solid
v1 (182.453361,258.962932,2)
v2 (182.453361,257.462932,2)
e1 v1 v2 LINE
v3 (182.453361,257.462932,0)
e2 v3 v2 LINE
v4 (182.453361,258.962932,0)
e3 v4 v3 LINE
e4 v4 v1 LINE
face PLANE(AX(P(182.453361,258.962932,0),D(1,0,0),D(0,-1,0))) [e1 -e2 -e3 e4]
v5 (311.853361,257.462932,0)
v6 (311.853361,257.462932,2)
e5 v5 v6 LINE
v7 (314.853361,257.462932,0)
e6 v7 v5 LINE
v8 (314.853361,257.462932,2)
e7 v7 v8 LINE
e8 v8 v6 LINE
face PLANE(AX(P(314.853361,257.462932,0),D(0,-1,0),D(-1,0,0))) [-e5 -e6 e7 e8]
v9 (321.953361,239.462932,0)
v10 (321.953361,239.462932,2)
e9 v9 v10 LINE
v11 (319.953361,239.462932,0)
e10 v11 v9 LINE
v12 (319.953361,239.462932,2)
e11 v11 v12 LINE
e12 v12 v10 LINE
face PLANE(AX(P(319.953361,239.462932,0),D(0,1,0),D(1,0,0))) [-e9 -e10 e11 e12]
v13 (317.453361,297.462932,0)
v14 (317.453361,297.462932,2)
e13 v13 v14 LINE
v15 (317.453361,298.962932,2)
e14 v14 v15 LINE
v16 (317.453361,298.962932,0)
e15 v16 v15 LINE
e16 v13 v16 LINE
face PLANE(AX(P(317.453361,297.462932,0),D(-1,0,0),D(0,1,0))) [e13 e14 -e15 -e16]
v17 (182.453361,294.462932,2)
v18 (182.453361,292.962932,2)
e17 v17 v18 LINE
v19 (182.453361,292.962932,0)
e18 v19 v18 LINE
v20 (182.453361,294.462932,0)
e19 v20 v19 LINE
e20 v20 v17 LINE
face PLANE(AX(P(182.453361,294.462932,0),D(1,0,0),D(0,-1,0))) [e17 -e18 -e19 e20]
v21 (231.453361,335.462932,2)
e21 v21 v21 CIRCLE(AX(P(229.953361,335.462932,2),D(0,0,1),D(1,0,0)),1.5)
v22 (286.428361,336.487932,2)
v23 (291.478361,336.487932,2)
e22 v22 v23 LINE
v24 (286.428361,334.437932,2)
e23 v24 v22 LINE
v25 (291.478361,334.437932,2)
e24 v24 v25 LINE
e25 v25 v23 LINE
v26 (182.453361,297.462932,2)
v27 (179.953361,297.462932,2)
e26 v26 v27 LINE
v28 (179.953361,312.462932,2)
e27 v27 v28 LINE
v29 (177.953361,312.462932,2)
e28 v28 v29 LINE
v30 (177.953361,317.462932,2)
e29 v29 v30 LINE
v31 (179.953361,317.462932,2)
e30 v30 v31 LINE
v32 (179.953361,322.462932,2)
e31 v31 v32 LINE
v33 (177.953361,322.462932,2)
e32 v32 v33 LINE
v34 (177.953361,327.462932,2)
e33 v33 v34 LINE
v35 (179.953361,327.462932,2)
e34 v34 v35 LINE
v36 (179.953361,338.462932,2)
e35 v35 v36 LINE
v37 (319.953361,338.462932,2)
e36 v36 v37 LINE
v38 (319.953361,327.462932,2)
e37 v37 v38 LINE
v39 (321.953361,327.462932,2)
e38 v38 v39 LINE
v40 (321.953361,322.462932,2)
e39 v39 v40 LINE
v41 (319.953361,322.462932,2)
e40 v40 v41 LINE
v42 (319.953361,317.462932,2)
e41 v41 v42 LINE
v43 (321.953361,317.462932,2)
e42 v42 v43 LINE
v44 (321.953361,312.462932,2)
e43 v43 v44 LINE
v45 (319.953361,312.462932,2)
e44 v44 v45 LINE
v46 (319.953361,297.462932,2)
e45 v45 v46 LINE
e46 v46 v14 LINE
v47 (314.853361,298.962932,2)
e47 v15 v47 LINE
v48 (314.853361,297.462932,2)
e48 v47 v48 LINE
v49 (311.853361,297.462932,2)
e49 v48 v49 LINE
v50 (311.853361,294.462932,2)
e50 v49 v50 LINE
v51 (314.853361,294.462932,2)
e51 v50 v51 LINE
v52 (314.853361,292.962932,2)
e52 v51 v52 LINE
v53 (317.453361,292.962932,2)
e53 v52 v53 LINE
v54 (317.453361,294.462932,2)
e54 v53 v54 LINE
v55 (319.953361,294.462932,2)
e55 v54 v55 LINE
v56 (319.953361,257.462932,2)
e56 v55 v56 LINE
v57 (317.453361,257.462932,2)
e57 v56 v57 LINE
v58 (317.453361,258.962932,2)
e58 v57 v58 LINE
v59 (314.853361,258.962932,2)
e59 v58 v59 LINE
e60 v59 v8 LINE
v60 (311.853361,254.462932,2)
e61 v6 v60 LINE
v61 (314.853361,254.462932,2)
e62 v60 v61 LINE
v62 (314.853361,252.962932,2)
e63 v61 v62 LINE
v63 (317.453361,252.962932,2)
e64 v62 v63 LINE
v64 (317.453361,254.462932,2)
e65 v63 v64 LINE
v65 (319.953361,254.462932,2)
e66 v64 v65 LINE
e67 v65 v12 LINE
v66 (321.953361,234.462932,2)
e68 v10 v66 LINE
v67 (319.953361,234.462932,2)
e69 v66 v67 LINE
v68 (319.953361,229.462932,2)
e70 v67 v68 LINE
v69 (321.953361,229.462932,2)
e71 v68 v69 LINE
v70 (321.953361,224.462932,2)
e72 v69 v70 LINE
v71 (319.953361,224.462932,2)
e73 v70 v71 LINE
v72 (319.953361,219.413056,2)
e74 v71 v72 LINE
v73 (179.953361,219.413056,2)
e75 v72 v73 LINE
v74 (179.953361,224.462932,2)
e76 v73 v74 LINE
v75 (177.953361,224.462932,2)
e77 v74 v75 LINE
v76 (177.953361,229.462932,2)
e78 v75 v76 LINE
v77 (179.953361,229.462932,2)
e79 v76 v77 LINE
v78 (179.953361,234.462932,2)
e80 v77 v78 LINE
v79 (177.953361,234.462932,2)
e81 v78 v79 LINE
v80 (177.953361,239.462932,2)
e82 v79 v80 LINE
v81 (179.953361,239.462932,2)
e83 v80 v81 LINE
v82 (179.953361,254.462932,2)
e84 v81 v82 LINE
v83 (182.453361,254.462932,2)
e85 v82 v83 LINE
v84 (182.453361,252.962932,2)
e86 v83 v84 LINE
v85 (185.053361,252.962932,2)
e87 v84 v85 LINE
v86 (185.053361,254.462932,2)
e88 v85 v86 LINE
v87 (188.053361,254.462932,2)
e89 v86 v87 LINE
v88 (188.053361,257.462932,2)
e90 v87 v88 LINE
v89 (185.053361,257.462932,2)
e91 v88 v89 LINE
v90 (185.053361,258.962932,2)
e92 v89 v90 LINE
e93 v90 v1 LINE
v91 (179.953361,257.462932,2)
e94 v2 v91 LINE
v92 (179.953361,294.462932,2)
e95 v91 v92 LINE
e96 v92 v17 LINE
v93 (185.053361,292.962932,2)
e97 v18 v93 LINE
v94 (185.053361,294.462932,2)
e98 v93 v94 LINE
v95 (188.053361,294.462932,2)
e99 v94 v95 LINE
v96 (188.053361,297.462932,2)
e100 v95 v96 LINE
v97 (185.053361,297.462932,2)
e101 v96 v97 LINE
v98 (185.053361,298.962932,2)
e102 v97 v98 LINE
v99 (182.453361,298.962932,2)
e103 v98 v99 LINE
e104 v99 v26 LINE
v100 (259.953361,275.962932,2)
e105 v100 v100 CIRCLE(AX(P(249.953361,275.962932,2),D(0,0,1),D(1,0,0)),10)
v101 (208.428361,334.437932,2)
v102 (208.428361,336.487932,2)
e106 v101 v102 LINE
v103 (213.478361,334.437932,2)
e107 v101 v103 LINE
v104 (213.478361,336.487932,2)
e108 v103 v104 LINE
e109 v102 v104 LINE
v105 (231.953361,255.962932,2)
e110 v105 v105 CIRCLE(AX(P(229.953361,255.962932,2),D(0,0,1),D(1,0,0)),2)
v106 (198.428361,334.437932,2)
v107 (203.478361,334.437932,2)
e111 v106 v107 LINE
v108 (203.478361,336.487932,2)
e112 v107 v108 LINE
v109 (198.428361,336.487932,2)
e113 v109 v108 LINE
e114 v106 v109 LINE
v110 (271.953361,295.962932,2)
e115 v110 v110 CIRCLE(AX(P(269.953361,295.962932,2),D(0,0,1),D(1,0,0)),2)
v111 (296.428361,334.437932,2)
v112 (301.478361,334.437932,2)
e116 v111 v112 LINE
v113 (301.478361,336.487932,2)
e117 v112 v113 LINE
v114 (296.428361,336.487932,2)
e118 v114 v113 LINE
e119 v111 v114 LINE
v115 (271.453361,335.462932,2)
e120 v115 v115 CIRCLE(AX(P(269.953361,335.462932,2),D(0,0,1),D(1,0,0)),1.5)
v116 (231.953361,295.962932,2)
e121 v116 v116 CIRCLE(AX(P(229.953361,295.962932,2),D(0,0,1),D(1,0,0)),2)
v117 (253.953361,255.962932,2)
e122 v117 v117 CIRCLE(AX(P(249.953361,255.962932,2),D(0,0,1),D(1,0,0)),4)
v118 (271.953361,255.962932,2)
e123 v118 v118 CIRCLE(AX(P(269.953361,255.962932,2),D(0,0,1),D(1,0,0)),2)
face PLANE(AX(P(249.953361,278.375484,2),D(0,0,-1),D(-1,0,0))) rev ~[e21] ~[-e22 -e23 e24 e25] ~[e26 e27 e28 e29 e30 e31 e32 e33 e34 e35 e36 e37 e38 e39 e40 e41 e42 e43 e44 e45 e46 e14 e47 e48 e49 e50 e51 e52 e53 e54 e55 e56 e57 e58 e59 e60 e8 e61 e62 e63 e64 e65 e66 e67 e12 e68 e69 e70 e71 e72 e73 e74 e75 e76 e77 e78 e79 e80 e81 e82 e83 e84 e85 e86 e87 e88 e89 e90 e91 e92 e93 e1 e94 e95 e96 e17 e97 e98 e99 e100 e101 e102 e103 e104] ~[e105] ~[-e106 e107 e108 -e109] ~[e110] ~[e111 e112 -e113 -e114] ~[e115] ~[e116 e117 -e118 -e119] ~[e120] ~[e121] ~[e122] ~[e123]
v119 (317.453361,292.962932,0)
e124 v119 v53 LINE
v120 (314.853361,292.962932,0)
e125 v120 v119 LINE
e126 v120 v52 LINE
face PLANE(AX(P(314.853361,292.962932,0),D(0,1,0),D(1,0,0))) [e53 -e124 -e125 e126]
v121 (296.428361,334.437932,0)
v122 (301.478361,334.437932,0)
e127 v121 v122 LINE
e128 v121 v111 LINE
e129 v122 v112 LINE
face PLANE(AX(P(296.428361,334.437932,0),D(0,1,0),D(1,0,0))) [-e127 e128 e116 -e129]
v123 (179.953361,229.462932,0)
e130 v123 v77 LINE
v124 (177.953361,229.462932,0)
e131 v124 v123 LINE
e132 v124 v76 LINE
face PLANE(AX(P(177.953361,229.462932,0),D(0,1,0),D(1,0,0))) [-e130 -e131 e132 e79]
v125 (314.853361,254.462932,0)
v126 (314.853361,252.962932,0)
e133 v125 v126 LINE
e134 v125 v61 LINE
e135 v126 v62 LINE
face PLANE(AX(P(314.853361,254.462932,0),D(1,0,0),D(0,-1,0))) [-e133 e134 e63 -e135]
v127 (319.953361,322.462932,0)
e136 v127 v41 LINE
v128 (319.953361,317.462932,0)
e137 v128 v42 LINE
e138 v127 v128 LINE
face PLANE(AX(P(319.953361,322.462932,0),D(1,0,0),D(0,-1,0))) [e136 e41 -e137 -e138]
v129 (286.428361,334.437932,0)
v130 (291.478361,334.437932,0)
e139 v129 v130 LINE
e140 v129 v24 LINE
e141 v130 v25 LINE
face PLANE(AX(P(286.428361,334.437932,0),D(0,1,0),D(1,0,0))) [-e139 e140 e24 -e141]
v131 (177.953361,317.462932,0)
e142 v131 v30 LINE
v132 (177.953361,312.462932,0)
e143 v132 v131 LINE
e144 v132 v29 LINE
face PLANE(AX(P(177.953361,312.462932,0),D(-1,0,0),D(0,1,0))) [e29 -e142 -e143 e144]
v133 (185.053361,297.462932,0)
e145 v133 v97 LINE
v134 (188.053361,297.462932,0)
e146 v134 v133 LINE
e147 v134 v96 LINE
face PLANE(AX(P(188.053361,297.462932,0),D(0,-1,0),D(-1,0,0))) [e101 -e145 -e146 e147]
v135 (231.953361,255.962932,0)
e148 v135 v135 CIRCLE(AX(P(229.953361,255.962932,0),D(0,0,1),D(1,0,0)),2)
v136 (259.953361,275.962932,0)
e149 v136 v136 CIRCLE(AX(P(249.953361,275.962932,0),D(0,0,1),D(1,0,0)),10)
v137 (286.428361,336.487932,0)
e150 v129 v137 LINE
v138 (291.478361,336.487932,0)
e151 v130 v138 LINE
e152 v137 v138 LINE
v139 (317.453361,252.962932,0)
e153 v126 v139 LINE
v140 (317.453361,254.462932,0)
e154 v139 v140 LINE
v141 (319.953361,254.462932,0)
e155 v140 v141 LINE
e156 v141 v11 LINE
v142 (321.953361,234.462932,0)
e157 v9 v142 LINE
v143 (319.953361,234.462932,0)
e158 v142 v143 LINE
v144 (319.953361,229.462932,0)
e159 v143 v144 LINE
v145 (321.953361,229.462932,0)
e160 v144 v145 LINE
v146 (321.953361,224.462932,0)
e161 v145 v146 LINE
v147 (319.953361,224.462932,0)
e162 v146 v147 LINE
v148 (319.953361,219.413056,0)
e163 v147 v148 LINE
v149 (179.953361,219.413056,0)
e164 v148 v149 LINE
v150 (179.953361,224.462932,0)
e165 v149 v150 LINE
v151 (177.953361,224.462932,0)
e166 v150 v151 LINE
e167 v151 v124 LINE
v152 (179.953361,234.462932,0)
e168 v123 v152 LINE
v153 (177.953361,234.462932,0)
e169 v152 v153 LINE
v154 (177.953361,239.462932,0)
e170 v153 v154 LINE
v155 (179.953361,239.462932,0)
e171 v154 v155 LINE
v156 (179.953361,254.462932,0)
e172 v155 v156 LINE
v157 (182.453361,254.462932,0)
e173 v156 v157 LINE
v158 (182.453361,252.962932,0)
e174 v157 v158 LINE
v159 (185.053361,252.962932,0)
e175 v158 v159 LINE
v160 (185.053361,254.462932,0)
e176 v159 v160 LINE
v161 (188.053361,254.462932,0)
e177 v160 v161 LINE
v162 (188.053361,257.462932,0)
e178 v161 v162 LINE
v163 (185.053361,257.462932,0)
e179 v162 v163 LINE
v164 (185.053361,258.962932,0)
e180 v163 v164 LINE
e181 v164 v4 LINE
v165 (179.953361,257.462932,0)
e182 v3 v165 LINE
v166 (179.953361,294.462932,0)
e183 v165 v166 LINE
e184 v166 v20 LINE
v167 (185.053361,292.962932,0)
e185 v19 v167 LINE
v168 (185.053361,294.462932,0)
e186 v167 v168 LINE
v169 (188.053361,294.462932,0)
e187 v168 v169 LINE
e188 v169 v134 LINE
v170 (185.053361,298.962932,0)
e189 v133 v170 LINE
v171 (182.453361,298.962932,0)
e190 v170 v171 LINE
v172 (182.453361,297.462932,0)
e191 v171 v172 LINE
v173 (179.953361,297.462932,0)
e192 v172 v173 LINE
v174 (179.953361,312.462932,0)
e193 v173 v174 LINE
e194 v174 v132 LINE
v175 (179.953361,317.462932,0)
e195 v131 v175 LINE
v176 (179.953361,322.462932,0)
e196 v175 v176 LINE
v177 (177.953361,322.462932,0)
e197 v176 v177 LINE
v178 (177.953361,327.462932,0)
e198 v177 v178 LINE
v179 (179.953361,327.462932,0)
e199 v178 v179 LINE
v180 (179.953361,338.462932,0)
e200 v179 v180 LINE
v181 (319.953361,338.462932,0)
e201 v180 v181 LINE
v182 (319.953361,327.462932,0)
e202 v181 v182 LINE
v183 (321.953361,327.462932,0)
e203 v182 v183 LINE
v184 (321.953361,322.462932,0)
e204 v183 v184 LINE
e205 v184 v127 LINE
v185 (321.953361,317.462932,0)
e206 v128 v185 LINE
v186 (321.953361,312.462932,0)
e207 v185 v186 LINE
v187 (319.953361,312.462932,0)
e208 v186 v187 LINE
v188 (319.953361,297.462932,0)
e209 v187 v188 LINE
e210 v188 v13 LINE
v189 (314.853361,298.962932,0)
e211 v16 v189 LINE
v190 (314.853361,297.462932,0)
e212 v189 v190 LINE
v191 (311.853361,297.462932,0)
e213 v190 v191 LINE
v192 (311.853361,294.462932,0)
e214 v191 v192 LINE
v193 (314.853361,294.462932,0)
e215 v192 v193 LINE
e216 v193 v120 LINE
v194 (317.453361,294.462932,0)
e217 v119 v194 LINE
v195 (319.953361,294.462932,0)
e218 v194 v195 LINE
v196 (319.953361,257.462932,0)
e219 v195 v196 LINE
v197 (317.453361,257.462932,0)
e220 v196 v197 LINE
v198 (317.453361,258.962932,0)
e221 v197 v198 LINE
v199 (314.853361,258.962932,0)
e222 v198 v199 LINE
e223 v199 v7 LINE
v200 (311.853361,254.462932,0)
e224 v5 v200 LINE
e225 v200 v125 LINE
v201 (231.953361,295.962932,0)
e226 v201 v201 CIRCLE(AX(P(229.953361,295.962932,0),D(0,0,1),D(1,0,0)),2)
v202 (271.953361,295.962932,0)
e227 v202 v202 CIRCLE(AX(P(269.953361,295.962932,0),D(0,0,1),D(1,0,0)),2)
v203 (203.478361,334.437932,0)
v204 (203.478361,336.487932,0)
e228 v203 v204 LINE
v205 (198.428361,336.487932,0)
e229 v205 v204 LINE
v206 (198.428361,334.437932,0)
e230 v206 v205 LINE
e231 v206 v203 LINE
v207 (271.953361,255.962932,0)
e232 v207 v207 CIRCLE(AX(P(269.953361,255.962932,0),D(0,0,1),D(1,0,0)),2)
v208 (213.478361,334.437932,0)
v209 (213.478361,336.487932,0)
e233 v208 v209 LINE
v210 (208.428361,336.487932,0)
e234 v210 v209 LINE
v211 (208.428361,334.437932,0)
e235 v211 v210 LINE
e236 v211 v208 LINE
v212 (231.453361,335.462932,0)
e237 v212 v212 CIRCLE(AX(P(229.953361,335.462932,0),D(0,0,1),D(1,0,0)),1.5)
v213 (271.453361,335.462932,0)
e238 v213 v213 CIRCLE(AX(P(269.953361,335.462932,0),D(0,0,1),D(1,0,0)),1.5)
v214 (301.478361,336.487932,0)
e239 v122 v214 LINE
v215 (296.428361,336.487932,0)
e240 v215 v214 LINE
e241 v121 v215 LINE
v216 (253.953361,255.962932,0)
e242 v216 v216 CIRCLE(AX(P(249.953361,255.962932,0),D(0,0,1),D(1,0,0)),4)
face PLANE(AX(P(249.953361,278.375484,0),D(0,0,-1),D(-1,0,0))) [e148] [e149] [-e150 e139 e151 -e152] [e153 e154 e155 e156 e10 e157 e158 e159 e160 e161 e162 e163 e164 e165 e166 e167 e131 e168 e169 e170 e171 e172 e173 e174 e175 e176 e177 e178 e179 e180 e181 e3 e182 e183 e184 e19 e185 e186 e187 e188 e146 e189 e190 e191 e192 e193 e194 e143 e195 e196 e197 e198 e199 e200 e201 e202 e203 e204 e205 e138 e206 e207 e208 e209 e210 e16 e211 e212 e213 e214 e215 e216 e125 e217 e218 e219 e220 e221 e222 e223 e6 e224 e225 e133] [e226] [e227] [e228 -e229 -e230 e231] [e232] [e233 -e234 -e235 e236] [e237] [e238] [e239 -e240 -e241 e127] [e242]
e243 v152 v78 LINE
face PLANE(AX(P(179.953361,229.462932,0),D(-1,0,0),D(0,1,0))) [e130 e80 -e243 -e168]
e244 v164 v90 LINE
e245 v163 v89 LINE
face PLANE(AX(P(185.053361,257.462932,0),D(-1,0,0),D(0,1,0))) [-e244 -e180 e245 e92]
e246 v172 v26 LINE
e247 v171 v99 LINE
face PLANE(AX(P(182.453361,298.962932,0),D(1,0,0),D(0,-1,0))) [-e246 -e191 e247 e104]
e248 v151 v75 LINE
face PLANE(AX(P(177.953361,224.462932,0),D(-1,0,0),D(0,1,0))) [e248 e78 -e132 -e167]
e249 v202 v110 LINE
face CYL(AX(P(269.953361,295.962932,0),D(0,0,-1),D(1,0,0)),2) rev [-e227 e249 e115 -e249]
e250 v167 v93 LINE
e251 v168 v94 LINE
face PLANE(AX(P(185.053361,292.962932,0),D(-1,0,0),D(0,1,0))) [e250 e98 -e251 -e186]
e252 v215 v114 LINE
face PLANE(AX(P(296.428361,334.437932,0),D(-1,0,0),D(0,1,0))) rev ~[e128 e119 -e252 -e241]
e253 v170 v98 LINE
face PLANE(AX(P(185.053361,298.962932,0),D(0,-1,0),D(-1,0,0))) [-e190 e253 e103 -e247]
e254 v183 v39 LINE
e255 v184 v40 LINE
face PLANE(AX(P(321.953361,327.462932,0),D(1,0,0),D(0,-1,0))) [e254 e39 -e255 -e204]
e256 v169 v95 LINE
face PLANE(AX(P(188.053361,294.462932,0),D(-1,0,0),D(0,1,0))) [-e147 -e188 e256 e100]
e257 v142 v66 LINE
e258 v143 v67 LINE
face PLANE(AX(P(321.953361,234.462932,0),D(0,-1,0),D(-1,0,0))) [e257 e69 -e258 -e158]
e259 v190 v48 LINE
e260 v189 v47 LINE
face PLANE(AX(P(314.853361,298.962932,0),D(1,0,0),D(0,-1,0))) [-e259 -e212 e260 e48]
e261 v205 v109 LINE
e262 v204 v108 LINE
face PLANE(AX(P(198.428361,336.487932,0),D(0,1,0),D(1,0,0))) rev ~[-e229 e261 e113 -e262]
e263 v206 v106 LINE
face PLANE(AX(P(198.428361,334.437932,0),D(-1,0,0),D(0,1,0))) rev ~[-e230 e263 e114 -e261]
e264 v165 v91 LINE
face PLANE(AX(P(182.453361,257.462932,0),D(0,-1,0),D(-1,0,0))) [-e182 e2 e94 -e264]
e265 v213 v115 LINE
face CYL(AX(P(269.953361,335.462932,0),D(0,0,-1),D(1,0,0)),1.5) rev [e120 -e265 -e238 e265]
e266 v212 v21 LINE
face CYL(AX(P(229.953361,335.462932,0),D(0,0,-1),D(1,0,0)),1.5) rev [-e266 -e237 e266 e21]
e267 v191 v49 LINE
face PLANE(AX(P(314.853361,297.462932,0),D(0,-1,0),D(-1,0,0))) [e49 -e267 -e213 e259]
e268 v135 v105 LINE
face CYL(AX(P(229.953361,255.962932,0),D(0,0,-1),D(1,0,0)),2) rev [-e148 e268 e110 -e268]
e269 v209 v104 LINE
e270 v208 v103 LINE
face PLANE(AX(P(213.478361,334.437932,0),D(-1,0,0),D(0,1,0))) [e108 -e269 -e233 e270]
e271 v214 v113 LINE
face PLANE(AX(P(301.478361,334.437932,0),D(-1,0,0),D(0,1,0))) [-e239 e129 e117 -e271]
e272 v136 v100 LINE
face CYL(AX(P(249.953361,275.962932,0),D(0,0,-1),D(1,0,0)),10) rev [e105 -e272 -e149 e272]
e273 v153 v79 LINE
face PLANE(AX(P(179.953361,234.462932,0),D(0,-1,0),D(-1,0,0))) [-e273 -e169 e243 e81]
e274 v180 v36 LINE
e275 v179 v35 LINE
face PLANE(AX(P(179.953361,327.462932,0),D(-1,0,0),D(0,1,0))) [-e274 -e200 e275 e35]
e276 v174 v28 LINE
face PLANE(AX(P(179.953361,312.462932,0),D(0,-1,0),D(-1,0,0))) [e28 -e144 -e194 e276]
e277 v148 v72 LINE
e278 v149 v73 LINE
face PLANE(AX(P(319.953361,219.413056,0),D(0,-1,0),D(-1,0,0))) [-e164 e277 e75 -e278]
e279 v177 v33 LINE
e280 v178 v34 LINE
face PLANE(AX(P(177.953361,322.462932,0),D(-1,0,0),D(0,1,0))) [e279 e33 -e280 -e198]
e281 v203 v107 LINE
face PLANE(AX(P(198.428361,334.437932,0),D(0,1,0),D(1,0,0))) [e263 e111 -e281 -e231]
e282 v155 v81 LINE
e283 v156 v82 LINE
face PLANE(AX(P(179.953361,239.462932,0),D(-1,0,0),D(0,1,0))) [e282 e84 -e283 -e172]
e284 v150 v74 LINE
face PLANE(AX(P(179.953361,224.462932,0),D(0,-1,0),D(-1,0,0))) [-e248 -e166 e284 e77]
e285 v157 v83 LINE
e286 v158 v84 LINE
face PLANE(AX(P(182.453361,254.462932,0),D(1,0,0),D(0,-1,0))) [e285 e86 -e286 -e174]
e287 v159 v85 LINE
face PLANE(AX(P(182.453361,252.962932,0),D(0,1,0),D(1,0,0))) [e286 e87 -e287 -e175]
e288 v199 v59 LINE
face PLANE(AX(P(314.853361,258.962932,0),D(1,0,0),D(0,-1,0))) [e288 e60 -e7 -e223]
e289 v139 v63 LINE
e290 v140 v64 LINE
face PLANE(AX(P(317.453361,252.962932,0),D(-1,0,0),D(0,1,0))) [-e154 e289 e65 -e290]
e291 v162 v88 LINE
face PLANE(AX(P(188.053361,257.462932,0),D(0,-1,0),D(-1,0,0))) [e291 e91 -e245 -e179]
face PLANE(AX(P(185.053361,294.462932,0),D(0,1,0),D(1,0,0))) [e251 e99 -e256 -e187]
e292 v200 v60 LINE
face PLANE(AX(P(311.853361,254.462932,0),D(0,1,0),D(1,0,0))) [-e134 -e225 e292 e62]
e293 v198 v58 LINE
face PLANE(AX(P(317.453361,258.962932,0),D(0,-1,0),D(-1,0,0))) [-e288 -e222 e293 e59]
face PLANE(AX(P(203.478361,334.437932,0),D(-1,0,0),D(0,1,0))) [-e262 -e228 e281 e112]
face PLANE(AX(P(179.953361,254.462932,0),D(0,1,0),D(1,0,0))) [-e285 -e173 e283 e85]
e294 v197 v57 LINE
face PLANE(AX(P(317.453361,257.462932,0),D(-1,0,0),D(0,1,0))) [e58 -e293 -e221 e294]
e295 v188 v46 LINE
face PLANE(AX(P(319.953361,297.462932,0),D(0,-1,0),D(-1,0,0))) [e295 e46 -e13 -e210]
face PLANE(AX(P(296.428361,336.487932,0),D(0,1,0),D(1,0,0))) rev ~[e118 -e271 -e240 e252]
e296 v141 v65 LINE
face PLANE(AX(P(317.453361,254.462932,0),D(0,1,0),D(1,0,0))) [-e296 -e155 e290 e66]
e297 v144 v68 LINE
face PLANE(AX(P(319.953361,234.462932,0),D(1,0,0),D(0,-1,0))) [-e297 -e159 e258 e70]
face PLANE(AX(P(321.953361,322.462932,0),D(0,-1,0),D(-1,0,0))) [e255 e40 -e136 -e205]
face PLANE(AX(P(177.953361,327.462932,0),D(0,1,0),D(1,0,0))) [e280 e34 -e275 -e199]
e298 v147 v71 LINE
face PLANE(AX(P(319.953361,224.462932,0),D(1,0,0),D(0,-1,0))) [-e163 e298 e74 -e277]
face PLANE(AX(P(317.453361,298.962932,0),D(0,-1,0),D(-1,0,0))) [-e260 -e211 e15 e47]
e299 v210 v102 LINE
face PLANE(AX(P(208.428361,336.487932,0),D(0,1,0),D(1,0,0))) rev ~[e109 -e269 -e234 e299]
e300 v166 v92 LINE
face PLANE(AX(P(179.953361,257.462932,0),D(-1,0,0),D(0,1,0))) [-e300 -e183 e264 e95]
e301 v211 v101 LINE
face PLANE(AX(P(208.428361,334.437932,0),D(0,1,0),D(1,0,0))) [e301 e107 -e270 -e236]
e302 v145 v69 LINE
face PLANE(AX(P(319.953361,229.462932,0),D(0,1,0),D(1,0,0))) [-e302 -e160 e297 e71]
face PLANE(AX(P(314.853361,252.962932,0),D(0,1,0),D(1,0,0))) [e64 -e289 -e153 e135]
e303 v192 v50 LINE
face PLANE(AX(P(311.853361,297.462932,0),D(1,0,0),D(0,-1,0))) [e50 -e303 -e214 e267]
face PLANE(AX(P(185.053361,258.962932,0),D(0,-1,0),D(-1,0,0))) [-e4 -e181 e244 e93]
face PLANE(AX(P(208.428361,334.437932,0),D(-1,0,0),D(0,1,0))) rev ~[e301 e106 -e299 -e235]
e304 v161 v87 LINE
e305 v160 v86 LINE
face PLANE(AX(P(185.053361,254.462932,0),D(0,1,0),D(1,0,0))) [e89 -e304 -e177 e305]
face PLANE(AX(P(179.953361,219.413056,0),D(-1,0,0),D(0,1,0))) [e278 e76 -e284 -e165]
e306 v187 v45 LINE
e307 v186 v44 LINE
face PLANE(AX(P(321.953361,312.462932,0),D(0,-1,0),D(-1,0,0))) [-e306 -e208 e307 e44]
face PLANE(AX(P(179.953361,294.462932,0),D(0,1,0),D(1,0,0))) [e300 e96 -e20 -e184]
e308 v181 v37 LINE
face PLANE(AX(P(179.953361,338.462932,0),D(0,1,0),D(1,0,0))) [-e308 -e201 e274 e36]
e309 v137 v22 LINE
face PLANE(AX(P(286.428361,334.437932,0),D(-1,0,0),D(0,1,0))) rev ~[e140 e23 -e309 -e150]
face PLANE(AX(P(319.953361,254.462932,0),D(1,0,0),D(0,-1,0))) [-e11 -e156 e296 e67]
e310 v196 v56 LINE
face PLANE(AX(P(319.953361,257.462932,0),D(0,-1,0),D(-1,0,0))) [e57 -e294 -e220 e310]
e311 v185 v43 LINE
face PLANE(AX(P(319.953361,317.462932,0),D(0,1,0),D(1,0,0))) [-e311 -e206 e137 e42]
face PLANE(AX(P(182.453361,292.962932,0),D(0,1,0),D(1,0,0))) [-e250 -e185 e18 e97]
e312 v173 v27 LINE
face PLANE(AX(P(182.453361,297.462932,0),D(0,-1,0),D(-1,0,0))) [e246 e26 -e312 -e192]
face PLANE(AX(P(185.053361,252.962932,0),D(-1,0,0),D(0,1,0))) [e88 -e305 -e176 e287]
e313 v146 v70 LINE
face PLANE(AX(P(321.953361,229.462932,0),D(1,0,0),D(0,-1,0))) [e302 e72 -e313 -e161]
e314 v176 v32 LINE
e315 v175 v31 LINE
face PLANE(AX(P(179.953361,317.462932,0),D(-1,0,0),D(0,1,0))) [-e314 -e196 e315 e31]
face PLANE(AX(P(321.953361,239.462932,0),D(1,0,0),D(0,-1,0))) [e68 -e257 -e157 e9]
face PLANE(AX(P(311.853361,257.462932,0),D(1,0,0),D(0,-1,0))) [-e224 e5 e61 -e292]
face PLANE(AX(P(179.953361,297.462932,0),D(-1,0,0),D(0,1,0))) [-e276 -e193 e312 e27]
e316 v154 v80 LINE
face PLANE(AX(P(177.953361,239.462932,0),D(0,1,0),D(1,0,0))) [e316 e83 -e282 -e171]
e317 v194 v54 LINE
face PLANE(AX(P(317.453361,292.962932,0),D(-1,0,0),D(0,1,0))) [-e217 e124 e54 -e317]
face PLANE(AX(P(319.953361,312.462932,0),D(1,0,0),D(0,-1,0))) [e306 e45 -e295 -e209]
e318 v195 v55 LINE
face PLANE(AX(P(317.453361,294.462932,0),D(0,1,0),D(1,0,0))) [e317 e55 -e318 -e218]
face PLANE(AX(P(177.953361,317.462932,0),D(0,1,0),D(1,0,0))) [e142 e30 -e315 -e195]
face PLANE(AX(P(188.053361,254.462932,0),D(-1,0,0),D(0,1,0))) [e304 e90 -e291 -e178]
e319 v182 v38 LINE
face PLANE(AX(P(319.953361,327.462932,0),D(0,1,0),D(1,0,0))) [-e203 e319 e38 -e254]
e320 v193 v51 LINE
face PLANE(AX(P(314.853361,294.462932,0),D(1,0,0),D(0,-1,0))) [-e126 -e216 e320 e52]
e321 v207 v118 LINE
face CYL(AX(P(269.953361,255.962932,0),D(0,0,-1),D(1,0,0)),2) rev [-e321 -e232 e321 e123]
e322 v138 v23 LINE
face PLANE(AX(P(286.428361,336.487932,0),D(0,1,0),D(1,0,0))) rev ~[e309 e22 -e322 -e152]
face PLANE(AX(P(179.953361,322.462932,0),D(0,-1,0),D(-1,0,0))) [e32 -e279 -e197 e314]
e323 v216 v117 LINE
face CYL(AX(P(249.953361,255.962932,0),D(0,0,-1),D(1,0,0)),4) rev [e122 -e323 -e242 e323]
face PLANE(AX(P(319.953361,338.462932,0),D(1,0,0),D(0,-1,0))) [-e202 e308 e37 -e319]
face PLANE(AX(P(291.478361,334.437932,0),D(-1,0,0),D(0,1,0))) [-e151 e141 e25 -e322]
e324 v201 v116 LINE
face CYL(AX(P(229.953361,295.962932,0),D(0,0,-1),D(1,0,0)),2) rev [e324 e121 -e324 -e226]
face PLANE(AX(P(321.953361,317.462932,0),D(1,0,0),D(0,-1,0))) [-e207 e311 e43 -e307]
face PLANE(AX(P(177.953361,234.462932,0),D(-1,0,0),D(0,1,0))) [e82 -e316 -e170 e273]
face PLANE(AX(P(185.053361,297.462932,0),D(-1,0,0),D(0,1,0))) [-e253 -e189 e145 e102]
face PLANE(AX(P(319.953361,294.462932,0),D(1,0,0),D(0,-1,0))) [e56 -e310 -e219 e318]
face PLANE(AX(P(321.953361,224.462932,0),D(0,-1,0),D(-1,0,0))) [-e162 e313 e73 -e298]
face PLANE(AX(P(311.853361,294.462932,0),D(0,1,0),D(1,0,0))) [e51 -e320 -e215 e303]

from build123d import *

# Parameters (mm, degrees)
SKETCH_1_R      = 10
SKETCH_1_R_2    = 4
SKETCH_1_R_3    = 1.5
SKETCH_1_R_4    = 2
SKETCH_1_W      = 5.05
SKETCH_1_H      = 2.05
EXTRUDE_1_DEPTH = 2


with BuildPart() as part:
    # 草图1 → 凸台-拉伸1 (new body)
    with BuildSketch(Plane.XY):
        Polygon((317.453360513, 257.462931603), (317.453360513, 258.962931603), (314.853360513, 258.962931603), (314.853360513, 257.462931603), (311.853360513, 257.462931603), (311.853360513, 254.462931603), (314.853360513, 254.462931603), (314.853360513, 252.962931603), (317.453360513, 252.962931603), (317.453360513, 254.462931603), (319.953360513, 254.462931603), (319.953360513, 239.462931603), (321.953360513, 239.462931603), (321.953360513, 234.462931603), (319.953360513, 234.462931603), (319.953360513, 229.462931603), (321.953360513, 229.462931603), (321.953360513, 224.462931603), (319.953360513, 224.462931603), (319.953360513, 219.413055772), (179.953360513, 219.413055772), (179.953360513, 224.462931603), (177.953360513, 224.462931603), (177.953360513, 229.462931603), (179.953360513, 229.462931603), (179.953360513, 234.462931603), (177.953360513, 234.462931603), (177.953360513, 239.462931603), (179.953360513, 239.462931603), (179.953360513, 254.462931603), (182.453360513, 254.462931603), (182.453360513, 252.962931602), (185.053360513, 252.962931602), (185.053360513, 254.462931603), (188.053360513, 254.462931603), (188.053360513, 257.462931603), (185.053360513, 257.462931603), (185.053360513, 258.962931602), (182.453360513, 258.962931602), (182.453360513, 257.462931603), (179.953360513, 257.462931603), (179.953360513, 294.462931603), (182.453360513, 294.462931603), (182.453360513, 292.962931603), (185.053360513, 292.962931603), (185.053360513, 294.462931603), (188.053360513, 294.462931603), (188.053360513, 297.462931603), (185.053360513, 297.462931603), (185.053360513, 298.962931603), (182.453360513, 298.962931603), (182.453360513, 297.462931603), (179.953360513, 297.462931603), (179.953360513, 312.462931603), (177.953360513, 312.462931603), (177.953360513, 317.462931603), (179.953360513, 317.462931603), (179.953360513, 322.462931603), (177.953360513, 322.462931603), (177.953360513, 327.462931603), (179.953360513, 327.462931603), (179.953360513, 338.462931603), (319.953360513, 338.462931603), (319.953360513, 327.462931603), (321.953360513, 327.462931603), (321.953360513, 322.462931603), (319.953360513, 322.462931603), (319.953360513, 317.462931603), (321.953360513, 317.462931603), (321.953360513, 312.462931603), (319.953360513, 312.462931603), (319.953360513, 297.462931603), (317.453360513, 297.462931603), (317.453360513, 298.962931603), (314.853360513, 298.962931603), (314.853360513, 297.462931603), (311.853360513, 297.462931603), (311.853360513, 294.462931603), (314.853360513, 294.462931603), (314.853360513, 292.962931603), (317.453360513, 292.962931603), (317.453360513, 294.462931603), (319.953360513, 294.462931603), (319.953360513, 257.462931603), align=None)
        with Locations((249.953360513, 275.962931603)):
            Circle(SKETCH_1_R, mode=Mode.SUBTRACT)
        with Locations((249.953360513, 255.962931603)):
            Circle(SKETCH_1_R_2, mode=Mode.SUBTRACT)
        with Locations((229.953360513, 335.462931603)):
            Circle(SKETCH_1_R_3, mode=Mode.SUBTRACT)
        with Locations((269.953360513, 335.462931603)):
            Circle(SKETCH_1_R_3, mode=Mode.SUBTRACT)
        with Locations((229.953360513, 255.962931603)):
            Circle(SKETCH_1_R_4, mode=Mode.SUBTRACT)
        with Locations((229.953360513, 295.962931603)):
            Circle(SKETCH_1_R_4, mode=Mode.SUBTRACT)
        with Locations((269.953360513, 295.962931603)):
            Circle(SKETCH_1_R_4, mode=Mode.SUBTRACT)
        with Locations((269.953360513, 255.962931603)):
            Circle(SKETCH_1_R_4, mode=Mode.SUBTRACT)
        with Locations((288.953360513, 335.462931603)):
            Rectangle(SKETCH_1_W, SKETCH_1_H, mode=Mode.SUBTRACT)
        with Locations((298.953360513, 335.462931603)):
            Rectangle(SKETCH_1_W, SKETCH_1_H, mode=Mode.SUBTRACT)
        with Locations((200.953360513, 335.462931603)):
            Rectangle(SKETCH_1_W, SKETCH_1_H, mode=Mode.SUBTRACT)
        with Locations((210.953360513, 335.462931603)):
            Rectangle(SKETCH_1_W, SKETCH_1_H, mode=Mode.SUBTRACT)
    extrude(amount=EXTRUDE_1_DEPTH)


solid = part.part
